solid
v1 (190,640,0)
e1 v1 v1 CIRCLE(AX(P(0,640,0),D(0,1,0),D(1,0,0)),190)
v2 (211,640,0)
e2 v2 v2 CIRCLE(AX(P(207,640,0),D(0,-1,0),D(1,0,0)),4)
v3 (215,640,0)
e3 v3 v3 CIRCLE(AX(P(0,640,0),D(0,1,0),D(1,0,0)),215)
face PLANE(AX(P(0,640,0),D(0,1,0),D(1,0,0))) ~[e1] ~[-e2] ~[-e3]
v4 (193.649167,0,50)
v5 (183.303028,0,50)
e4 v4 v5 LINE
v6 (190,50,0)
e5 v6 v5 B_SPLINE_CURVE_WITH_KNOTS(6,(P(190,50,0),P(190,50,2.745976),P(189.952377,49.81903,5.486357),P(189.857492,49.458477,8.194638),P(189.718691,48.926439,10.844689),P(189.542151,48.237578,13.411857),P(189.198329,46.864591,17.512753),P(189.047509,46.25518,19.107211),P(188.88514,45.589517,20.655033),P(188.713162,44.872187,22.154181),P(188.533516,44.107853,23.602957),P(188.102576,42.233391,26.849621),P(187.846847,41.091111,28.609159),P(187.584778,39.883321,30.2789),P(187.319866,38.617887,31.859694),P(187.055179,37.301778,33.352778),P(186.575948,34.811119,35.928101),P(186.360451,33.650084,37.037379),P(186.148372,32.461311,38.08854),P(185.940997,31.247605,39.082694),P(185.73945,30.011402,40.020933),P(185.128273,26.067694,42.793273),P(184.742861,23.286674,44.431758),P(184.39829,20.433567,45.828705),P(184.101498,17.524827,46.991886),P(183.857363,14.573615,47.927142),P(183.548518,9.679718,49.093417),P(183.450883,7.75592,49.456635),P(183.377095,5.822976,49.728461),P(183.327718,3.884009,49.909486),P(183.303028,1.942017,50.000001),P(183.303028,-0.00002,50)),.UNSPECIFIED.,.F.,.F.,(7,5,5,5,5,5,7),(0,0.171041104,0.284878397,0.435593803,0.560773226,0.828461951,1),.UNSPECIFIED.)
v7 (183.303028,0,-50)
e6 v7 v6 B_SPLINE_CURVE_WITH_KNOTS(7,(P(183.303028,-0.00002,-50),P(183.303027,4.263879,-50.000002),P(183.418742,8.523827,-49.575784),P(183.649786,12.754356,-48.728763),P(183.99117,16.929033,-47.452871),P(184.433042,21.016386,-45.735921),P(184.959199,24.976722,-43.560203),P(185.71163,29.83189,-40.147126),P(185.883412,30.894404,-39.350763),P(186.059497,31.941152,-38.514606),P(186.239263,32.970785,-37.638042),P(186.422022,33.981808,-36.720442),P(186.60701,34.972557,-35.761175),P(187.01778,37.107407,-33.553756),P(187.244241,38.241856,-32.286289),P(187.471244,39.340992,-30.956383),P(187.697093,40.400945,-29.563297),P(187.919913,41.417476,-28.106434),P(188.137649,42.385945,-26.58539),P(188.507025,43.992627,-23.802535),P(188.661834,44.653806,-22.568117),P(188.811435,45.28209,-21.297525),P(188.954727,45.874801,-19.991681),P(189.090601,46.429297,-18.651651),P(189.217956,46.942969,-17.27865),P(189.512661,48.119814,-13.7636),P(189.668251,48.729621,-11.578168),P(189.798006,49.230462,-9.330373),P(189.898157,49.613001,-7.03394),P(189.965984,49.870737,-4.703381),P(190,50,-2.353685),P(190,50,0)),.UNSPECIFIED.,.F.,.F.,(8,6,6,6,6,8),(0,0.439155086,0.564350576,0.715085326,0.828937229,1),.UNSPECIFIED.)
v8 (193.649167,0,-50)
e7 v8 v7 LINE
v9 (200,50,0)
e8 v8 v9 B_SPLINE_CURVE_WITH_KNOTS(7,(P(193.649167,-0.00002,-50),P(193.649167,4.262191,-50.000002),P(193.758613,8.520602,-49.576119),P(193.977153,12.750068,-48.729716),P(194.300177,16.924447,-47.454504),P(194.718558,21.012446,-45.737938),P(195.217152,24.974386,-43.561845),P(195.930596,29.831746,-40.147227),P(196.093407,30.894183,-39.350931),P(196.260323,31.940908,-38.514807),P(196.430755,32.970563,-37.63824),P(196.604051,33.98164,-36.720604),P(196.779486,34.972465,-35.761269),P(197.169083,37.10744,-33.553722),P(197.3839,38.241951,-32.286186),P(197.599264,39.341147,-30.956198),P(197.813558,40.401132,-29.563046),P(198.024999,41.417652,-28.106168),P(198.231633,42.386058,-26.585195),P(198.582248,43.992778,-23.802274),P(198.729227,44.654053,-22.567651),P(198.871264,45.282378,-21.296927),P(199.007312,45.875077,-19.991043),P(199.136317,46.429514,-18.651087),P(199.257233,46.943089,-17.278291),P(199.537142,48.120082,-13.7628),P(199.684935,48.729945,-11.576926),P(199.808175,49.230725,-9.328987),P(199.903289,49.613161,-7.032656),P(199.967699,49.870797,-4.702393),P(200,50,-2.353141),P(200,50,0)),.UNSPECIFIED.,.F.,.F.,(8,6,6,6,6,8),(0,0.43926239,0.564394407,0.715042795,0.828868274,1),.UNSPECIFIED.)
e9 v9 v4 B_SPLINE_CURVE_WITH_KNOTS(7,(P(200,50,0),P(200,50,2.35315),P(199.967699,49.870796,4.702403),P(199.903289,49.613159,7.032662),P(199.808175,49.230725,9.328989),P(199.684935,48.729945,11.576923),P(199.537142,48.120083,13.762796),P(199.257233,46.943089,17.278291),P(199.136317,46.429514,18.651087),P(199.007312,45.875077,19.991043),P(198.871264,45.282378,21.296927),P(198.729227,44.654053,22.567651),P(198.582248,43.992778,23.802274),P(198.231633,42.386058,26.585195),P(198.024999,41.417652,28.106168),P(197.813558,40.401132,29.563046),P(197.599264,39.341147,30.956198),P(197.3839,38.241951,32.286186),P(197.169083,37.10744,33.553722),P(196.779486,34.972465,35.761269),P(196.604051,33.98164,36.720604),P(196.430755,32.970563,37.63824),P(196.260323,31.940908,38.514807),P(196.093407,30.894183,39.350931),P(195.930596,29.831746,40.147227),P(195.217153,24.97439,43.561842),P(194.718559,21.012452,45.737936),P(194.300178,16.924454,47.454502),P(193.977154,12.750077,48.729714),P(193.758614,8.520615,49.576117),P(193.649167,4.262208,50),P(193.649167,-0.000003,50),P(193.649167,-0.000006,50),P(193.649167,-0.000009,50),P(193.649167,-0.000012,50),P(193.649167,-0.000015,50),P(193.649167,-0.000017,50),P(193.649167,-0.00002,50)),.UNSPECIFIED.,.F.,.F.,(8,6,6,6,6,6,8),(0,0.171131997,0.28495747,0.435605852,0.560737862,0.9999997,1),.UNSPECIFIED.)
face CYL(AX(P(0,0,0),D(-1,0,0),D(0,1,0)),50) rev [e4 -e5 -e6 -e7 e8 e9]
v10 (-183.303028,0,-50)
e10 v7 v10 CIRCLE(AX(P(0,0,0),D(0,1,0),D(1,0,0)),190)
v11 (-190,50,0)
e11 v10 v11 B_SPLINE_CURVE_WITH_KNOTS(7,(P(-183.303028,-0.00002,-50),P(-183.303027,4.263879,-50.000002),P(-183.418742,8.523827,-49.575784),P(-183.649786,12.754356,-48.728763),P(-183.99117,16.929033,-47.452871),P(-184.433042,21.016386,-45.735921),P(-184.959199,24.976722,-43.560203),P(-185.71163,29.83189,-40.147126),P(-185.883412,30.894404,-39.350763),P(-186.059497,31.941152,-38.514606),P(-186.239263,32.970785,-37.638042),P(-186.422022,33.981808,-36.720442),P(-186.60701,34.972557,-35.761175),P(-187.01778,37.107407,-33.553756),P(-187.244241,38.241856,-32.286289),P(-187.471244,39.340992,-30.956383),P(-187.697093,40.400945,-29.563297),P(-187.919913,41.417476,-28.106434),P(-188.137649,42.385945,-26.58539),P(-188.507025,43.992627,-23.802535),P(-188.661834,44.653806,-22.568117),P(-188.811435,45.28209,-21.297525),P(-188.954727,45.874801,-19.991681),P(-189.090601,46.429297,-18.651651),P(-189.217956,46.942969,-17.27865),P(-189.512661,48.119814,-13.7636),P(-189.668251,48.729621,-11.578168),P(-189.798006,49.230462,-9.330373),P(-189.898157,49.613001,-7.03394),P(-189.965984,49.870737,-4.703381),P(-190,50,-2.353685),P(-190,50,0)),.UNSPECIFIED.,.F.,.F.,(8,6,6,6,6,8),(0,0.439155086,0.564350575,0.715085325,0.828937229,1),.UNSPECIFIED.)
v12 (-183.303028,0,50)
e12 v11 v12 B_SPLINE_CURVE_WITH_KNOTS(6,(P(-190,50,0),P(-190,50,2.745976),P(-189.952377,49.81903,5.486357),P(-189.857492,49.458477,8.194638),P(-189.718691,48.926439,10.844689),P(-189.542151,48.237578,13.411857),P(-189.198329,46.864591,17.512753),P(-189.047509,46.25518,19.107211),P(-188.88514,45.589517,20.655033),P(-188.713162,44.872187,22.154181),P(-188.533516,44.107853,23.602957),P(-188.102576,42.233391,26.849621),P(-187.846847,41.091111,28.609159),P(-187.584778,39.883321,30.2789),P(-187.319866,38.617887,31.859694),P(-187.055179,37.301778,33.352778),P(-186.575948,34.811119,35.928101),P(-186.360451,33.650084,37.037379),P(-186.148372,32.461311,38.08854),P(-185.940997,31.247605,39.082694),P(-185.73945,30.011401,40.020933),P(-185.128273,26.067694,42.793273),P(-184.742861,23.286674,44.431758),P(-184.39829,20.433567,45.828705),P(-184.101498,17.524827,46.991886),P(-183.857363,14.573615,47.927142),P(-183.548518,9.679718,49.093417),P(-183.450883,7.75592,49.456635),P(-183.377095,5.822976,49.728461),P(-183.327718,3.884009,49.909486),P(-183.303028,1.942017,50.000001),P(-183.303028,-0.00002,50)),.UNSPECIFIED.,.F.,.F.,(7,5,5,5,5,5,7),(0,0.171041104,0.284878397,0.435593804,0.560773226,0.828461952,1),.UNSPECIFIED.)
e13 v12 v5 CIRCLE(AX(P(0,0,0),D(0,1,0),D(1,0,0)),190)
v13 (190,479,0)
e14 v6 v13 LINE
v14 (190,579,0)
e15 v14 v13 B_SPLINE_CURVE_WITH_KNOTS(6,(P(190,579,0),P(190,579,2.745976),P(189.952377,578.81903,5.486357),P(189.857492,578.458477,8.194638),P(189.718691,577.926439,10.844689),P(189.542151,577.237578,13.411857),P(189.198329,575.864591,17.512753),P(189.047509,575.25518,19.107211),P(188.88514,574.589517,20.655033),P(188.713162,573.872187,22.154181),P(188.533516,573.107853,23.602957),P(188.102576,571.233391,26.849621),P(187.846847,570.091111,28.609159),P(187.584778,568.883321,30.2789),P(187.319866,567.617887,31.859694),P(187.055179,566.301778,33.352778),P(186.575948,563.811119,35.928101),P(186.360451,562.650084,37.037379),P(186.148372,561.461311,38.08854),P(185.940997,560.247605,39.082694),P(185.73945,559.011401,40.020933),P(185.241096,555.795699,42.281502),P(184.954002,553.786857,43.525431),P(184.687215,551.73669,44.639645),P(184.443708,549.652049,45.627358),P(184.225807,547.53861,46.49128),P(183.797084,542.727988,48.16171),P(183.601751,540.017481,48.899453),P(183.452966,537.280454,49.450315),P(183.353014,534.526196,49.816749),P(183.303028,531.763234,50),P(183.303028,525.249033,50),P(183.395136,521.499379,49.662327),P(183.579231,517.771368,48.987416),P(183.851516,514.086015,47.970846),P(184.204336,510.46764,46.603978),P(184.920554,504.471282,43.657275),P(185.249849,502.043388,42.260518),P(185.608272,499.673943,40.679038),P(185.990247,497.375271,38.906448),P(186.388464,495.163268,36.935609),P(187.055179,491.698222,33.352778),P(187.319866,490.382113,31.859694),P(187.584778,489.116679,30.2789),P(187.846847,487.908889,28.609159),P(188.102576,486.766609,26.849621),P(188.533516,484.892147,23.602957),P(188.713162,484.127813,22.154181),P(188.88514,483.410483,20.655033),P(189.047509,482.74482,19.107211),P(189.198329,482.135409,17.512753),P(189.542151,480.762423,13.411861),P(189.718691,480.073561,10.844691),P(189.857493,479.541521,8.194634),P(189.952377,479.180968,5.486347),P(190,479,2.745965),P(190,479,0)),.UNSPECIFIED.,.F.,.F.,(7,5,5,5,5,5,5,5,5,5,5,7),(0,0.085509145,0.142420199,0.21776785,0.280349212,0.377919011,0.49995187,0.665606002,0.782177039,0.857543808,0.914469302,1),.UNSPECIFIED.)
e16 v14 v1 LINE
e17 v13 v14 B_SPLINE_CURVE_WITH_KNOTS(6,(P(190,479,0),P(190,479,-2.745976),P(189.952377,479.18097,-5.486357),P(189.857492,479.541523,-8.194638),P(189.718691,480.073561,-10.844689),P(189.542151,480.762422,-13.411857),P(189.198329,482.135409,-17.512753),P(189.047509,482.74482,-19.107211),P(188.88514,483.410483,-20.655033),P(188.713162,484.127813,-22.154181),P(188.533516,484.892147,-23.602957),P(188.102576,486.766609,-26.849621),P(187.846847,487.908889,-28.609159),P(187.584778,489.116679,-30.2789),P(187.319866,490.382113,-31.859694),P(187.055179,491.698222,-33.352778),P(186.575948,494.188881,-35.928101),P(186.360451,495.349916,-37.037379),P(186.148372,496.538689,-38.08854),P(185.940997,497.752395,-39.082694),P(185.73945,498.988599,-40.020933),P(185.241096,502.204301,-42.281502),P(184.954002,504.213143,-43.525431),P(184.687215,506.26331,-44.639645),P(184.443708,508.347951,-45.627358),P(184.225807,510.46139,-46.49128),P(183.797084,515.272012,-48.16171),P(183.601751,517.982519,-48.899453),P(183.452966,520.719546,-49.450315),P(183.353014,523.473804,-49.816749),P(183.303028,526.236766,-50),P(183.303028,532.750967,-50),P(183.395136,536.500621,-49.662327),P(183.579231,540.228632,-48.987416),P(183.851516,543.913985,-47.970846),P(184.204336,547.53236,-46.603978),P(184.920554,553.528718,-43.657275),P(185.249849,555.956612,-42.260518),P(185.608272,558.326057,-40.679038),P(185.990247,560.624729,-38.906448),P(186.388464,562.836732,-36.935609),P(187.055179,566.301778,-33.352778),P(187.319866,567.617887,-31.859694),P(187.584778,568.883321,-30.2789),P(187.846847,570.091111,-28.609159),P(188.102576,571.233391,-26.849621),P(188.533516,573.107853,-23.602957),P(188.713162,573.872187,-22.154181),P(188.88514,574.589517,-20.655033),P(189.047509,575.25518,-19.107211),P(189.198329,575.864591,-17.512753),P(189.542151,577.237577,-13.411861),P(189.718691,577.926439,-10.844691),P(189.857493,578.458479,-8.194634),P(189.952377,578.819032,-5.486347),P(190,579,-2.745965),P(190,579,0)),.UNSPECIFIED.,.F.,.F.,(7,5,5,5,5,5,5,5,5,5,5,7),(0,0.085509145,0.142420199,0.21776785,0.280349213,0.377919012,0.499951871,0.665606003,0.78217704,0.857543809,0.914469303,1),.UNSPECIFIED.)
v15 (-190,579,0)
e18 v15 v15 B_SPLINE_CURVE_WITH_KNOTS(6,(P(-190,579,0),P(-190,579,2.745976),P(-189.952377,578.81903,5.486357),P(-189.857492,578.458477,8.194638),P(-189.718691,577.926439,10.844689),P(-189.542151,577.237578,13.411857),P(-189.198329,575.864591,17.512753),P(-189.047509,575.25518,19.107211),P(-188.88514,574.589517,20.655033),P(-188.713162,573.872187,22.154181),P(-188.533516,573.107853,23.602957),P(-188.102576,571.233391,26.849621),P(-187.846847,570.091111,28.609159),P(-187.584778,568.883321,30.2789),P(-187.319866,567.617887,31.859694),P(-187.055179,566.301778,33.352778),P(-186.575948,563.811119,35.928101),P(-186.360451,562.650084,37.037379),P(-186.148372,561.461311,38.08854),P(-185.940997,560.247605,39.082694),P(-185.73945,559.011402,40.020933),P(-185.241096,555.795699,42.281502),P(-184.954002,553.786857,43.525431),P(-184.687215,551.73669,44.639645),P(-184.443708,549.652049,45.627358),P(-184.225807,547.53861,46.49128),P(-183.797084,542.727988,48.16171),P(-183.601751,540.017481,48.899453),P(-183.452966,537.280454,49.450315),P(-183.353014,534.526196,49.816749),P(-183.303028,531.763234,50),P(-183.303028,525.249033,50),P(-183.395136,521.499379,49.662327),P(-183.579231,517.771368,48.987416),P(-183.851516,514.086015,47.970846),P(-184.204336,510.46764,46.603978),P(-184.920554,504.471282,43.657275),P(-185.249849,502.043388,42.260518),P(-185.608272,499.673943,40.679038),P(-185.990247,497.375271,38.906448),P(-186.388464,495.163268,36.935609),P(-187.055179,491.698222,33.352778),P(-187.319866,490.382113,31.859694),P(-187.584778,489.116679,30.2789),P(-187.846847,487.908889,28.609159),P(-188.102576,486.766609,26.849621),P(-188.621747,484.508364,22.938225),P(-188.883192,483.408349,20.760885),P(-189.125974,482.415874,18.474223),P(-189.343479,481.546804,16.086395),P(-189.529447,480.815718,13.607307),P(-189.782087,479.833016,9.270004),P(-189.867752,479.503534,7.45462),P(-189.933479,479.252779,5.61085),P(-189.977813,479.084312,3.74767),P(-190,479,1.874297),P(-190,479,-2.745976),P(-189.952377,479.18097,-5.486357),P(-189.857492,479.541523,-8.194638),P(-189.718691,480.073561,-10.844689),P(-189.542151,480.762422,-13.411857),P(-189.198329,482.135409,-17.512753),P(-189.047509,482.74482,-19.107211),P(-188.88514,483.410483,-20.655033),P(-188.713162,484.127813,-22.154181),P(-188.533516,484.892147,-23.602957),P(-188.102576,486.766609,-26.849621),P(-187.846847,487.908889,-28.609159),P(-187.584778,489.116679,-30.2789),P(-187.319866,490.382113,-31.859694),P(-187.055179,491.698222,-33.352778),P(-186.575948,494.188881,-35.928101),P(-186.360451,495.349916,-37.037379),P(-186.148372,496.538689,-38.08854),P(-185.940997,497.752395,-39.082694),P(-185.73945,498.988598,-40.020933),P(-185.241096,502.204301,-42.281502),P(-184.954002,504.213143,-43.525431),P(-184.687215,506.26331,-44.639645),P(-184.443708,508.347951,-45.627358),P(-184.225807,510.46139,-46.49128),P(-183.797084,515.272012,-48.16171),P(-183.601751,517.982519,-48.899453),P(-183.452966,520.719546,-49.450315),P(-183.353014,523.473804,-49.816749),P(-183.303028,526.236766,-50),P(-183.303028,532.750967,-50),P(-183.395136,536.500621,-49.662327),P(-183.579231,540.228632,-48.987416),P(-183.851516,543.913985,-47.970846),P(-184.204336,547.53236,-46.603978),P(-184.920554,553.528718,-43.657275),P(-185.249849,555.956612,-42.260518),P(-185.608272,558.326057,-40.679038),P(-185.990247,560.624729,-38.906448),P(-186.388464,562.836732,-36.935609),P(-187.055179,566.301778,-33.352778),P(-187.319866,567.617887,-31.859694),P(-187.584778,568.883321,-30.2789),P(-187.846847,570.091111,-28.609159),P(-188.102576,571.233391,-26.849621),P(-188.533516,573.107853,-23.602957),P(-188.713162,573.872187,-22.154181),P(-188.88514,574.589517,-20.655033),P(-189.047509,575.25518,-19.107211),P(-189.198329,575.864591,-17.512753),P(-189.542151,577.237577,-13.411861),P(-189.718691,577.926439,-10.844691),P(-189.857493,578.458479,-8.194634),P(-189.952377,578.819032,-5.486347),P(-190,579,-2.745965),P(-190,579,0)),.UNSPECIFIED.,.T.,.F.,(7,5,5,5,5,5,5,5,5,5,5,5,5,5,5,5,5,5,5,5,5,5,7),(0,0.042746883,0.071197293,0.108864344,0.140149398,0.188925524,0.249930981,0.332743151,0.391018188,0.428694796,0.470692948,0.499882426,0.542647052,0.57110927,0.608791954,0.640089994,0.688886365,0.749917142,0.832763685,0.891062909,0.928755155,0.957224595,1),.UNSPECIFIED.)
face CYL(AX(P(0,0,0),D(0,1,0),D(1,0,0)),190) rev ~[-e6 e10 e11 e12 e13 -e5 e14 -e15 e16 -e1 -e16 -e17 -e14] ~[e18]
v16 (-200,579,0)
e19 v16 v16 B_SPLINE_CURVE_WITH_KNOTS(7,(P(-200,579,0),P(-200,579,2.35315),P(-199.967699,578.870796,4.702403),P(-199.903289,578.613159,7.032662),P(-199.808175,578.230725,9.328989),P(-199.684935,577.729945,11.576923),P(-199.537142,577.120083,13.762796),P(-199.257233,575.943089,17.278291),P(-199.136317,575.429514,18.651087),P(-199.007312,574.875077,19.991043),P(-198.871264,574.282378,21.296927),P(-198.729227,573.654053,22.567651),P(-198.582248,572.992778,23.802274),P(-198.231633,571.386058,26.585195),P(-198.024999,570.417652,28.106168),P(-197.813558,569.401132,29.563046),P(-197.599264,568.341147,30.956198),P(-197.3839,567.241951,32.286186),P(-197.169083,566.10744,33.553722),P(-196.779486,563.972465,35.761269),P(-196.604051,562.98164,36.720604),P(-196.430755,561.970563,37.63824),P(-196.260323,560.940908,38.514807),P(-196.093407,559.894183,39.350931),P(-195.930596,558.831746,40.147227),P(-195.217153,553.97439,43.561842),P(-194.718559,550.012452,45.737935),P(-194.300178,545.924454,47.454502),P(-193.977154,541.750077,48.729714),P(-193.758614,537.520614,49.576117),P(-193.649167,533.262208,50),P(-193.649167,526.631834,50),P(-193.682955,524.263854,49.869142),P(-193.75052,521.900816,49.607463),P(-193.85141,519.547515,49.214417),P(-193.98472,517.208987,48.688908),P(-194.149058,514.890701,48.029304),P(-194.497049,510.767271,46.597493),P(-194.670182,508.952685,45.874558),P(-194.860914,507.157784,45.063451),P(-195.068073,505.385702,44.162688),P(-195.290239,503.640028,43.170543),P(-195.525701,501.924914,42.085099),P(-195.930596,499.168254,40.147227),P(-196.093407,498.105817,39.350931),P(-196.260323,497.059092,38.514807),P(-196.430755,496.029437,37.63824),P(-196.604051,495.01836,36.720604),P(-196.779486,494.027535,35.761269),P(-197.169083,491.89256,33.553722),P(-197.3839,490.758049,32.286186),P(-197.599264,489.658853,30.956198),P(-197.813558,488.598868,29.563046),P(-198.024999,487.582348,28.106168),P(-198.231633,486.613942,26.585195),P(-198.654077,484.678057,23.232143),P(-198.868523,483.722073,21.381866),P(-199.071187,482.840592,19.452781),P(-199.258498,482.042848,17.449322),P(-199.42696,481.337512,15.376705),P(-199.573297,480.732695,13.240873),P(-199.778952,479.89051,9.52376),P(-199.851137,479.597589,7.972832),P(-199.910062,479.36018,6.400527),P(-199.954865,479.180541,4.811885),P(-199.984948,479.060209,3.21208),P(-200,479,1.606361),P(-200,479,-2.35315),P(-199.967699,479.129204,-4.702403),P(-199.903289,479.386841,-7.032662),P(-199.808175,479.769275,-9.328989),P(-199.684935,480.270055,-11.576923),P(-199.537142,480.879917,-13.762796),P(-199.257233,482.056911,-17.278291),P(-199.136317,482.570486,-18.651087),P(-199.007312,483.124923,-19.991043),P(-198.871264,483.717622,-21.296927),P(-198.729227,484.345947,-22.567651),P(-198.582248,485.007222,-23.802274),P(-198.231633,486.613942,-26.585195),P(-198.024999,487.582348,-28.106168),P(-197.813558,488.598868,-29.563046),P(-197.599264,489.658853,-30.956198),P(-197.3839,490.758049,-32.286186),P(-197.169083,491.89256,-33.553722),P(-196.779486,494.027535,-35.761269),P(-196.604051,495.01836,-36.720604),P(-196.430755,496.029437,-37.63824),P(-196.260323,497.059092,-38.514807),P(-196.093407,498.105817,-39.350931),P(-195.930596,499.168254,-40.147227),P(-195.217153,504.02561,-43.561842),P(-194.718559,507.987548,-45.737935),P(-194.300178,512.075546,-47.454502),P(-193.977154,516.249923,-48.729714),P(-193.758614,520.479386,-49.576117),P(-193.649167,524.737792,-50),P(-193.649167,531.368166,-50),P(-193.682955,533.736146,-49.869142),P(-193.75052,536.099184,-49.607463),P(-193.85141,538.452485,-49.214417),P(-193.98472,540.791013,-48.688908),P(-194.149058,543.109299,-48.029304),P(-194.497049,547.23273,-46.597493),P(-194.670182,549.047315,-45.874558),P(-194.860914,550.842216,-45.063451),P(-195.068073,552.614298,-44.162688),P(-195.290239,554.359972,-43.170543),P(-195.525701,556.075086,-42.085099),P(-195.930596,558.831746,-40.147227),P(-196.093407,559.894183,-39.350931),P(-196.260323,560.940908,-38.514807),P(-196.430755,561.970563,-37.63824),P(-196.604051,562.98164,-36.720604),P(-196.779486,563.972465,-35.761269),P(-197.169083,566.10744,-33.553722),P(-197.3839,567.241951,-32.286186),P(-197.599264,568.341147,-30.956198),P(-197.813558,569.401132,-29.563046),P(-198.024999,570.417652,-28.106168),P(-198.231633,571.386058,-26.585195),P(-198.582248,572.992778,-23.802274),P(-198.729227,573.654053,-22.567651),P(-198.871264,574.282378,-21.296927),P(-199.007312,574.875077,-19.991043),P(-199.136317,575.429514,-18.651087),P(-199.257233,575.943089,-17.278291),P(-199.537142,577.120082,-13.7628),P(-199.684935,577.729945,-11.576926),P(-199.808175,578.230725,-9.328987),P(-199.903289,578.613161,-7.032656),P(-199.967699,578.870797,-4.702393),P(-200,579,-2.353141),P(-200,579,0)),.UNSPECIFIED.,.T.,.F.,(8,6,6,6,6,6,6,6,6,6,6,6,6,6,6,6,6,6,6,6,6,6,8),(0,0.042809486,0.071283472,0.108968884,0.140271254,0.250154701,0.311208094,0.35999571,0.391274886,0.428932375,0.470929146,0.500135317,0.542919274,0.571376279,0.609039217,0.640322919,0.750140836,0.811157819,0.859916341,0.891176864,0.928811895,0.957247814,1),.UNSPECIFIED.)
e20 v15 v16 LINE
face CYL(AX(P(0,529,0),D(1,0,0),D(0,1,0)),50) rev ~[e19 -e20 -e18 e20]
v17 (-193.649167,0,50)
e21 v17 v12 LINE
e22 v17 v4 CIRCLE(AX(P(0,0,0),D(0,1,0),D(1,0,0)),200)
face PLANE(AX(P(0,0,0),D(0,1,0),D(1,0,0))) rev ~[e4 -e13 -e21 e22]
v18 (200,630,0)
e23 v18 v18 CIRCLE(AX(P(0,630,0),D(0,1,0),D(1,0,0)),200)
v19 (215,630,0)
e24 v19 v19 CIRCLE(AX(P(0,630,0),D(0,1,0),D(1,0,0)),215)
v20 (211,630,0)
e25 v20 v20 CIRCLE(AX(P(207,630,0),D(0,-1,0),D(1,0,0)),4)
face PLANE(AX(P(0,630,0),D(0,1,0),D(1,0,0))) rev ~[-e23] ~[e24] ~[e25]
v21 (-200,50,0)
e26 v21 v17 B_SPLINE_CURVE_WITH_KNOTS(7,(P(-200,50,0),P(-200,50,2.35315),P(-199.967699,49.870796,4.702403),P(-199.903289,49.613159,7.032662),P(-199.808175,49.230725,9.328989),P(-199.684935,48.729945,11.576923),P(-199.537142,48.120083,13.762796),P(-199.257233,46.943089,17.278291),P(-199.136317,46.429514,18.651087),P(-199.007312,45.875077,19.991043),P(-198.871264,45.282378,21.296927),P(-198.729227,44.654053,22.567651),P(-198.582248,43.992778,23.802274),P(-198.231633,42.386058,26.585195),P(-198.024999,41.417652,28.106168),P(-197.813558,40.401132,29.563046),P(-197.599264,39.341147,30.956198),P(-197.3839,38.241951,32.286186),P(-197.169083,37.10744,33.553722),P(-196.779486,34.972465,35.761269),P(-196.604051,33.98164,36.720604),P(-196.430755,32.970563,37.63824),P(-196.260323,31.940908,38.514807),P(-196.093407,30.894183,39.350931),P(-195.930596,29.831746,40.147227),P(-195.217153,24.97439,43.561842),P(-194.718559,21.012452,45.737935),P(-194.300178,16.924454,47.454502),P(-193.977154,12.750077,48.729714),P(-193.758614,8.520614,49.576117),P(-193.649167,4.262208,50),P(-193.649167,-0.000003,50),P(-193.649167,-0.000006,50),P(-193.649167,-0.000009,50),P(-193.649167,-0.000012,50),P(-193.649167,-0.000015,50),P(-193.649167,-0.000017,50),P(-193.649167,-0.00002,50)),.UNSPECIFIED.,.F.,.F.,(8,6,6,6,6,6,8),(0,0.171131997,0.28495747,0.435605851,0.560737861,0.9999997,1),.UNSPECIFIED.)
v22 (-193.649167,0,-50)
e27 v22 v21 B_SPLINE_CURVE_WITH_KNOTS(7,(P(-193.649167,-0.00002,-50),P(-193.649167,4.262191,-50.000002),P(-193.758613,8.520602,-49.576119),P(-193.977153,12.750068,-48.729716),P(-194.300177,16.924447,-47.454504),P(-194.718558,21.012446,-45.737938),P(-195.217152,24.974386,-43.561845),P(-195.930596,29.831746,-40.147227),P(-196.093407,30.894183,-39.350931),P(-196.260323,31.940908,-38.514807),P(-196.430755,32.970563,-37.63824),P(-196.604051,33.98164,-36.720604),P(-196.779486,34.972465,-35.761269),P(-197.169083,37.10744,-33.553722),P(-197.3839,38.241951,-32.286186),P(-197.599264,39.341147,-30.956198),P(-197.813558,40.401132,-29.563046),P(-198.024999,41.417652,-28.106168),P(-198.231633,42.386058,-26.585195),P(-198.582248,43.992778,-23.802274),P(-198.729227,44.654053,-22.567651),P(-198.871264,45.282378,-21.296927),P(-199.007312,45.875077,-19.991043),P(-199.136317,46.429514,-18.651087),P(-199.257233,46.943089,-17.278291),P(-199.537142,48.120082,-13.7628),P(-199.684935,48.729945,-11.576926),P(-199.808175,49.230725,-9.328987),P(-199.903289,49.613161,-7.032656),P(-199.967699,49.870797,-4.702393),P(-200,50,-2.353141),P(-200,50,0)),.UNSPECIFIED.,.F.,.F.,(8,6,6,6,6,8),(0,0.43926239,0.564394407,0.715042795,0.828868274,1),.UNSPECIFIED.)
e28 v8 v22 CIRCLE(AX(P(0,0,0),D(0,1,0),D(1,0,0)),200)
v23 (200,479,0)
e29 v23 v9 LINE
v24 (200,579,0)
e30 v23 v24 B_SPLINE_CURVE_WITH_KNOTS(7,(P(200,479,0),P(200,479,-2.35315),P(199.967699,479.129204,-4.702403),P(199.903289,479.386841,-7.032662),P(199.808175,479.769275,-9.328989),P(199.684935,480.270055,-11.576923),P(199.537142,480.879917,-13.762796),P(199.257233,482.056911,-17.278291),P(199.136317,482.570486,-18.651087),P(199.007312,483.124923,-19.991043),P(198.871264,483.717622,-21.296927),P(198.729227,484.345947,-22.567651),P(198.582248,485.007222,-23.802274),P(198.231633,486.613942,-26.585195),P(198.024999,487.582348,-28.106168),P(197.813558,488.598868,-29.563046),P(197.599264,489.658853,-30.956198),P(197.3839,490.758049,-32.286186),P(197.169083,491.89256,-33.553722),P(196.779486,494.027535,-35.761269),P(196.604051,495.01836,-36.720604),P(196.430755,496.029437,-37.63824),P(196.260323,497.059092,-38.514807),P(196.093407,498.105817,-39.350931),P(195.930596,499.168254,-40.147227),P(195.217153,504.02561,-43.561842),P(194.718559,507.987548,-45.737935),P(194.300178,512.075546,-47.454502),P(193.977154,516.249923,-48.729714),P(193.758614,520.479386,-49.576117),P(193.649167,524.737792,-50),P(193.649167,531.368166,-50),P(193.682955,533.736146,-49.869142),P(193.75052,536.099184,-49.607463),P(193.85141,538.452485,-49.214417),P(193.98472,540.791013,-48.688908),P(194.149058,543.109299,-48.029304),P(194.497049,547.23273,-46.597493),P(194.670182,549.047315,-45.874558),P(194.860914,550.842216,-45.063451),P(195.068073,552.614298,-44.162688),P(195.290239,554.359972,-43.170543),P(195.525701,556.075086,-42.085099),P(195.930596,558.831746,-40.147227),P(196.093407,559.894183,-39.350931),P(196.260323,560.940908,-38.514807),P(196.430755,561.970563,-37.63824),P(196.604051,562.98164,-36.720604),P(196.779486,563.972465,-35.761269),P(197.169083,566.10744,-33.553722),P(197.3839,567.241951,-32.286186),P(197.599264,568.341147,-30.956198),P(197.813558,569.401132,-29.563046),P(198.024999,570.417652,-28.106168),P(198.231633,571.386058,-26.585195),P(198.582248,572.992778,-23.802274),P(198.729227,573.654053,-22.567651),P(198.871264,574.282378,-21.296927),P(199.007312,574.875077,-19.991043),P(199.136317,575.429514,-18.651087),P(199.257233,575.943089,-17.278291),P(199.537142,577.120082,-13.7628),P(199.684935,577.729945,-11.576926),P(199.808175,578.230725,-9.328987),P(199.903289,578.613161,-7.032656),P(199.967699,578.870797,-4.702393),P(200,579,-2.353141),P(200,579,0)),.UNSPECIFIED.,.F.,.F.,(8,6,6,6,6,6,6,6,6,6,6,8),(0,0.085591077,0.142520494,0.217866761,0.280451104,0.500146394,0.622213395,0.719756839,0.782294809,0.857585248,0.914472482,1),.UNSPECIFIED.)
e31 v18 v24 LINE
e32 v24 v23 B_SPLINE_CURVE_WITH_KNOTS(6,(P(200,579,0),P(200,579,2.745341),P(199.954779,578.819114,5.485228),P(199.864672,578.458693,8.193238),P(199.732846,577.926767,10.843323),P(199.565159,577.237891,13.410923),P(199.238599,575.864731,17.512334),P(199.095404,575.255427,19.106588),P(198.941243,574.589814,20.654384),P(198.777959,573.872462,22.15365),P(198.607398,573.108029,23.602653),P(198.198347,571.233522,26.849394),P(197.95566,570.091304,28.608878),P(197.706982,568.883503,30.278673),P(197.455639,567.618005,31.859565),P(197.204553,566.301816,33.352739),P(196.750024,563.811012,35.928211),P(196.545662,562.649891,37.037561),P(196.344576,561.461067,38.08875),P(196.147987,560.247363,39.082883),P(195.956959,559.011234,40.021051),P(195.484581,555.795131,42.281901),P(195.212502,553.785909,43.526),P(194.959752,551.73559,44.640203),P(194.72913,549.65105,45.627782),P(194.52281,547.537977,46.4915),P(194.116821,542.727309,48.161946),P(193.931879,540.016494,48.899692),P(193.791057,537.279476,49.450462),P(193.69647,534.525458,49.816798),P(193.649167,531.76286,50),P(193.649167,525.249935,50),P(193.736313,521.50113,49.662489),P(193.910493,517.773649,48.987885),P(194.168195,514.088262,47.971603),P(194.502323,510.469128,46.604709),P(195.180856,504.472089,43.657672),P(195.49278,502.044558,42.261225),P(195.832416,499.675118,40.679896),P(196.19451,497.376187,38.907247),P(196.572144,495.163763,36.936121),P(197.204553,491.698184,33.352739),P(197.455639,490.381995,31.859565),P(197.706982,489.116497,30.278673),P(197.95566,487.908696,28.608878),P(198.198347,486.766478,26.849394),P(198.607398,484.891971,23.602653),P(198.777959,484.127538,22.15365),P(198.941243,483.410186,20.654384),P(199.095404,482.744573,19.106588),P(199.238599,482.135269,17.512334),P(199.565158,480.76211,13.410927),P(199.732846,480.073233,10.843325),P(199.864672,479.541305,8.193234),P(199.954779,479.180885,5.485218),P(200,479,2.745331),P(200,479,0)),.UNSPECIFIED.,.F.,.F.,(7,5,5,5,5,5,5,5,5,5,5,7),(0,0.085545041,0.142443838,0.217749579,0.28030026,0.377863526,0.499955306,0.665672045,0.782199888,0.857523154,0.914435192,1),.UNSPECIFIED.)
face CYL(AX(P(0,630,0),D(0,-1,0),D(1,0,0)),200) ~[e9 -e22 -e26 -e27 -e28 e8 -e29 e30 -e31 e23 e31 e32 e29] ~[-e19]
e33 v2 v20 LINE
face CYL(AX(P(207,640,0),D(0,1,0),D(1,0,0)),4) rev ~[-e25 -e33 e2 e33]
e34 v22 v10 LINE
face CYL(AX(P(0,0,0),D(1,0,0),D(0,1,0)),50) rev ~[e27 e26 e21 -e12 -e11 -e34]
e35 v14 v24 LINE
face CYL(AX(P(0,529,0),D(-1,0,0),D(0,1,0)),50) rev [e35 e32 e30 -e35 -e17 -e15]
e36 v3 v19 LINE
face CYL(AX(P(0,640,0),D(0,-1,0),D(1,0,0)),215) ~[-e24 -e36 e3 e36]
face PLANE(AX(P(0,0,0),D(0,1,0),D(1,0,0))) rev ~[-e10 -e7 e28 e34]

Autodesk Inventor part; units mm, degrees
ref_plane "YZ Plane" through (0, 0, 0) normal (1, 0, 0) x (0, 1, 0)
ref_plane "XZ Plane" through (0, 0, 0) normal (0, 1, 0) x (-1, 0, 0)
ref_plane "XY Plane" through (0, 0, 0) normal (0, 0, 1) x (1, 0, 0)
sketch "Эскиз1" plane through (0, 0, 0) normal (0, 0, 1) x (1, 0, 0)
  line L0 (0, 0) -> (190, 0)
  line L1 (190, 0) -> (190, 640)
  line L2 (190, 640) -> (215, 640)
  line L3 (215, 640) -> (215, 630)
  line L4 (215, 630) -> (200, 630)
  line L5 (200, 630) -> (200, 0)
  line L6 (200, 0) -> (190, 0)
  line L7 (0, -128) -> (0, 768) projected
  dimension "d0" = 190
  dimension "d1" = 640
  dimension "d2" = 25
  dimension "d3" = 10
revolve "Вращение1" add sketch "Эскиз1" angle 360 about axis through (0, -10, 0) along (0, 1, 0)
sketch "Эскиз2" plane through (0, 640, 0) normal (0, 1, 0) x (1, 0, 0)
  circle A0 centre (207, 0) radius 4
  circle A1 centre (0, 0) radius 190 projected
  line L0 (190, 0) -> (207, 0)
  dimension "d6" = 8
  dimension "d19" = 17
extrude "Выдавливание1" cut sketch "Эскиз2" against normal through all contours A0
sketch "Эскиз3" plane through (0, 0, 0) normal (1, 0, 0) x (0, 1, 0)
  line L0 (630, 215) -> (630, -215) projected
  line L1 (630, 200) -> (630, -200) projected
  line L2 (630, 0) -> (529, 0)
  circle A0 centre (529, 0) radius 50
  line L3 (0, 0) -> (0, 0)
  circle A1 centre (0, 0) radius 50
  dimension "d11" = 101
  dimension "d12" = 100
  dimension "d17" = 0
  dimension "d18" = 100
extrude "Выдавливание2" cut sketch "Эскиз3" along normal through all both and the other way through all
properties part number "Втулка" material "Сталь, легированная"
